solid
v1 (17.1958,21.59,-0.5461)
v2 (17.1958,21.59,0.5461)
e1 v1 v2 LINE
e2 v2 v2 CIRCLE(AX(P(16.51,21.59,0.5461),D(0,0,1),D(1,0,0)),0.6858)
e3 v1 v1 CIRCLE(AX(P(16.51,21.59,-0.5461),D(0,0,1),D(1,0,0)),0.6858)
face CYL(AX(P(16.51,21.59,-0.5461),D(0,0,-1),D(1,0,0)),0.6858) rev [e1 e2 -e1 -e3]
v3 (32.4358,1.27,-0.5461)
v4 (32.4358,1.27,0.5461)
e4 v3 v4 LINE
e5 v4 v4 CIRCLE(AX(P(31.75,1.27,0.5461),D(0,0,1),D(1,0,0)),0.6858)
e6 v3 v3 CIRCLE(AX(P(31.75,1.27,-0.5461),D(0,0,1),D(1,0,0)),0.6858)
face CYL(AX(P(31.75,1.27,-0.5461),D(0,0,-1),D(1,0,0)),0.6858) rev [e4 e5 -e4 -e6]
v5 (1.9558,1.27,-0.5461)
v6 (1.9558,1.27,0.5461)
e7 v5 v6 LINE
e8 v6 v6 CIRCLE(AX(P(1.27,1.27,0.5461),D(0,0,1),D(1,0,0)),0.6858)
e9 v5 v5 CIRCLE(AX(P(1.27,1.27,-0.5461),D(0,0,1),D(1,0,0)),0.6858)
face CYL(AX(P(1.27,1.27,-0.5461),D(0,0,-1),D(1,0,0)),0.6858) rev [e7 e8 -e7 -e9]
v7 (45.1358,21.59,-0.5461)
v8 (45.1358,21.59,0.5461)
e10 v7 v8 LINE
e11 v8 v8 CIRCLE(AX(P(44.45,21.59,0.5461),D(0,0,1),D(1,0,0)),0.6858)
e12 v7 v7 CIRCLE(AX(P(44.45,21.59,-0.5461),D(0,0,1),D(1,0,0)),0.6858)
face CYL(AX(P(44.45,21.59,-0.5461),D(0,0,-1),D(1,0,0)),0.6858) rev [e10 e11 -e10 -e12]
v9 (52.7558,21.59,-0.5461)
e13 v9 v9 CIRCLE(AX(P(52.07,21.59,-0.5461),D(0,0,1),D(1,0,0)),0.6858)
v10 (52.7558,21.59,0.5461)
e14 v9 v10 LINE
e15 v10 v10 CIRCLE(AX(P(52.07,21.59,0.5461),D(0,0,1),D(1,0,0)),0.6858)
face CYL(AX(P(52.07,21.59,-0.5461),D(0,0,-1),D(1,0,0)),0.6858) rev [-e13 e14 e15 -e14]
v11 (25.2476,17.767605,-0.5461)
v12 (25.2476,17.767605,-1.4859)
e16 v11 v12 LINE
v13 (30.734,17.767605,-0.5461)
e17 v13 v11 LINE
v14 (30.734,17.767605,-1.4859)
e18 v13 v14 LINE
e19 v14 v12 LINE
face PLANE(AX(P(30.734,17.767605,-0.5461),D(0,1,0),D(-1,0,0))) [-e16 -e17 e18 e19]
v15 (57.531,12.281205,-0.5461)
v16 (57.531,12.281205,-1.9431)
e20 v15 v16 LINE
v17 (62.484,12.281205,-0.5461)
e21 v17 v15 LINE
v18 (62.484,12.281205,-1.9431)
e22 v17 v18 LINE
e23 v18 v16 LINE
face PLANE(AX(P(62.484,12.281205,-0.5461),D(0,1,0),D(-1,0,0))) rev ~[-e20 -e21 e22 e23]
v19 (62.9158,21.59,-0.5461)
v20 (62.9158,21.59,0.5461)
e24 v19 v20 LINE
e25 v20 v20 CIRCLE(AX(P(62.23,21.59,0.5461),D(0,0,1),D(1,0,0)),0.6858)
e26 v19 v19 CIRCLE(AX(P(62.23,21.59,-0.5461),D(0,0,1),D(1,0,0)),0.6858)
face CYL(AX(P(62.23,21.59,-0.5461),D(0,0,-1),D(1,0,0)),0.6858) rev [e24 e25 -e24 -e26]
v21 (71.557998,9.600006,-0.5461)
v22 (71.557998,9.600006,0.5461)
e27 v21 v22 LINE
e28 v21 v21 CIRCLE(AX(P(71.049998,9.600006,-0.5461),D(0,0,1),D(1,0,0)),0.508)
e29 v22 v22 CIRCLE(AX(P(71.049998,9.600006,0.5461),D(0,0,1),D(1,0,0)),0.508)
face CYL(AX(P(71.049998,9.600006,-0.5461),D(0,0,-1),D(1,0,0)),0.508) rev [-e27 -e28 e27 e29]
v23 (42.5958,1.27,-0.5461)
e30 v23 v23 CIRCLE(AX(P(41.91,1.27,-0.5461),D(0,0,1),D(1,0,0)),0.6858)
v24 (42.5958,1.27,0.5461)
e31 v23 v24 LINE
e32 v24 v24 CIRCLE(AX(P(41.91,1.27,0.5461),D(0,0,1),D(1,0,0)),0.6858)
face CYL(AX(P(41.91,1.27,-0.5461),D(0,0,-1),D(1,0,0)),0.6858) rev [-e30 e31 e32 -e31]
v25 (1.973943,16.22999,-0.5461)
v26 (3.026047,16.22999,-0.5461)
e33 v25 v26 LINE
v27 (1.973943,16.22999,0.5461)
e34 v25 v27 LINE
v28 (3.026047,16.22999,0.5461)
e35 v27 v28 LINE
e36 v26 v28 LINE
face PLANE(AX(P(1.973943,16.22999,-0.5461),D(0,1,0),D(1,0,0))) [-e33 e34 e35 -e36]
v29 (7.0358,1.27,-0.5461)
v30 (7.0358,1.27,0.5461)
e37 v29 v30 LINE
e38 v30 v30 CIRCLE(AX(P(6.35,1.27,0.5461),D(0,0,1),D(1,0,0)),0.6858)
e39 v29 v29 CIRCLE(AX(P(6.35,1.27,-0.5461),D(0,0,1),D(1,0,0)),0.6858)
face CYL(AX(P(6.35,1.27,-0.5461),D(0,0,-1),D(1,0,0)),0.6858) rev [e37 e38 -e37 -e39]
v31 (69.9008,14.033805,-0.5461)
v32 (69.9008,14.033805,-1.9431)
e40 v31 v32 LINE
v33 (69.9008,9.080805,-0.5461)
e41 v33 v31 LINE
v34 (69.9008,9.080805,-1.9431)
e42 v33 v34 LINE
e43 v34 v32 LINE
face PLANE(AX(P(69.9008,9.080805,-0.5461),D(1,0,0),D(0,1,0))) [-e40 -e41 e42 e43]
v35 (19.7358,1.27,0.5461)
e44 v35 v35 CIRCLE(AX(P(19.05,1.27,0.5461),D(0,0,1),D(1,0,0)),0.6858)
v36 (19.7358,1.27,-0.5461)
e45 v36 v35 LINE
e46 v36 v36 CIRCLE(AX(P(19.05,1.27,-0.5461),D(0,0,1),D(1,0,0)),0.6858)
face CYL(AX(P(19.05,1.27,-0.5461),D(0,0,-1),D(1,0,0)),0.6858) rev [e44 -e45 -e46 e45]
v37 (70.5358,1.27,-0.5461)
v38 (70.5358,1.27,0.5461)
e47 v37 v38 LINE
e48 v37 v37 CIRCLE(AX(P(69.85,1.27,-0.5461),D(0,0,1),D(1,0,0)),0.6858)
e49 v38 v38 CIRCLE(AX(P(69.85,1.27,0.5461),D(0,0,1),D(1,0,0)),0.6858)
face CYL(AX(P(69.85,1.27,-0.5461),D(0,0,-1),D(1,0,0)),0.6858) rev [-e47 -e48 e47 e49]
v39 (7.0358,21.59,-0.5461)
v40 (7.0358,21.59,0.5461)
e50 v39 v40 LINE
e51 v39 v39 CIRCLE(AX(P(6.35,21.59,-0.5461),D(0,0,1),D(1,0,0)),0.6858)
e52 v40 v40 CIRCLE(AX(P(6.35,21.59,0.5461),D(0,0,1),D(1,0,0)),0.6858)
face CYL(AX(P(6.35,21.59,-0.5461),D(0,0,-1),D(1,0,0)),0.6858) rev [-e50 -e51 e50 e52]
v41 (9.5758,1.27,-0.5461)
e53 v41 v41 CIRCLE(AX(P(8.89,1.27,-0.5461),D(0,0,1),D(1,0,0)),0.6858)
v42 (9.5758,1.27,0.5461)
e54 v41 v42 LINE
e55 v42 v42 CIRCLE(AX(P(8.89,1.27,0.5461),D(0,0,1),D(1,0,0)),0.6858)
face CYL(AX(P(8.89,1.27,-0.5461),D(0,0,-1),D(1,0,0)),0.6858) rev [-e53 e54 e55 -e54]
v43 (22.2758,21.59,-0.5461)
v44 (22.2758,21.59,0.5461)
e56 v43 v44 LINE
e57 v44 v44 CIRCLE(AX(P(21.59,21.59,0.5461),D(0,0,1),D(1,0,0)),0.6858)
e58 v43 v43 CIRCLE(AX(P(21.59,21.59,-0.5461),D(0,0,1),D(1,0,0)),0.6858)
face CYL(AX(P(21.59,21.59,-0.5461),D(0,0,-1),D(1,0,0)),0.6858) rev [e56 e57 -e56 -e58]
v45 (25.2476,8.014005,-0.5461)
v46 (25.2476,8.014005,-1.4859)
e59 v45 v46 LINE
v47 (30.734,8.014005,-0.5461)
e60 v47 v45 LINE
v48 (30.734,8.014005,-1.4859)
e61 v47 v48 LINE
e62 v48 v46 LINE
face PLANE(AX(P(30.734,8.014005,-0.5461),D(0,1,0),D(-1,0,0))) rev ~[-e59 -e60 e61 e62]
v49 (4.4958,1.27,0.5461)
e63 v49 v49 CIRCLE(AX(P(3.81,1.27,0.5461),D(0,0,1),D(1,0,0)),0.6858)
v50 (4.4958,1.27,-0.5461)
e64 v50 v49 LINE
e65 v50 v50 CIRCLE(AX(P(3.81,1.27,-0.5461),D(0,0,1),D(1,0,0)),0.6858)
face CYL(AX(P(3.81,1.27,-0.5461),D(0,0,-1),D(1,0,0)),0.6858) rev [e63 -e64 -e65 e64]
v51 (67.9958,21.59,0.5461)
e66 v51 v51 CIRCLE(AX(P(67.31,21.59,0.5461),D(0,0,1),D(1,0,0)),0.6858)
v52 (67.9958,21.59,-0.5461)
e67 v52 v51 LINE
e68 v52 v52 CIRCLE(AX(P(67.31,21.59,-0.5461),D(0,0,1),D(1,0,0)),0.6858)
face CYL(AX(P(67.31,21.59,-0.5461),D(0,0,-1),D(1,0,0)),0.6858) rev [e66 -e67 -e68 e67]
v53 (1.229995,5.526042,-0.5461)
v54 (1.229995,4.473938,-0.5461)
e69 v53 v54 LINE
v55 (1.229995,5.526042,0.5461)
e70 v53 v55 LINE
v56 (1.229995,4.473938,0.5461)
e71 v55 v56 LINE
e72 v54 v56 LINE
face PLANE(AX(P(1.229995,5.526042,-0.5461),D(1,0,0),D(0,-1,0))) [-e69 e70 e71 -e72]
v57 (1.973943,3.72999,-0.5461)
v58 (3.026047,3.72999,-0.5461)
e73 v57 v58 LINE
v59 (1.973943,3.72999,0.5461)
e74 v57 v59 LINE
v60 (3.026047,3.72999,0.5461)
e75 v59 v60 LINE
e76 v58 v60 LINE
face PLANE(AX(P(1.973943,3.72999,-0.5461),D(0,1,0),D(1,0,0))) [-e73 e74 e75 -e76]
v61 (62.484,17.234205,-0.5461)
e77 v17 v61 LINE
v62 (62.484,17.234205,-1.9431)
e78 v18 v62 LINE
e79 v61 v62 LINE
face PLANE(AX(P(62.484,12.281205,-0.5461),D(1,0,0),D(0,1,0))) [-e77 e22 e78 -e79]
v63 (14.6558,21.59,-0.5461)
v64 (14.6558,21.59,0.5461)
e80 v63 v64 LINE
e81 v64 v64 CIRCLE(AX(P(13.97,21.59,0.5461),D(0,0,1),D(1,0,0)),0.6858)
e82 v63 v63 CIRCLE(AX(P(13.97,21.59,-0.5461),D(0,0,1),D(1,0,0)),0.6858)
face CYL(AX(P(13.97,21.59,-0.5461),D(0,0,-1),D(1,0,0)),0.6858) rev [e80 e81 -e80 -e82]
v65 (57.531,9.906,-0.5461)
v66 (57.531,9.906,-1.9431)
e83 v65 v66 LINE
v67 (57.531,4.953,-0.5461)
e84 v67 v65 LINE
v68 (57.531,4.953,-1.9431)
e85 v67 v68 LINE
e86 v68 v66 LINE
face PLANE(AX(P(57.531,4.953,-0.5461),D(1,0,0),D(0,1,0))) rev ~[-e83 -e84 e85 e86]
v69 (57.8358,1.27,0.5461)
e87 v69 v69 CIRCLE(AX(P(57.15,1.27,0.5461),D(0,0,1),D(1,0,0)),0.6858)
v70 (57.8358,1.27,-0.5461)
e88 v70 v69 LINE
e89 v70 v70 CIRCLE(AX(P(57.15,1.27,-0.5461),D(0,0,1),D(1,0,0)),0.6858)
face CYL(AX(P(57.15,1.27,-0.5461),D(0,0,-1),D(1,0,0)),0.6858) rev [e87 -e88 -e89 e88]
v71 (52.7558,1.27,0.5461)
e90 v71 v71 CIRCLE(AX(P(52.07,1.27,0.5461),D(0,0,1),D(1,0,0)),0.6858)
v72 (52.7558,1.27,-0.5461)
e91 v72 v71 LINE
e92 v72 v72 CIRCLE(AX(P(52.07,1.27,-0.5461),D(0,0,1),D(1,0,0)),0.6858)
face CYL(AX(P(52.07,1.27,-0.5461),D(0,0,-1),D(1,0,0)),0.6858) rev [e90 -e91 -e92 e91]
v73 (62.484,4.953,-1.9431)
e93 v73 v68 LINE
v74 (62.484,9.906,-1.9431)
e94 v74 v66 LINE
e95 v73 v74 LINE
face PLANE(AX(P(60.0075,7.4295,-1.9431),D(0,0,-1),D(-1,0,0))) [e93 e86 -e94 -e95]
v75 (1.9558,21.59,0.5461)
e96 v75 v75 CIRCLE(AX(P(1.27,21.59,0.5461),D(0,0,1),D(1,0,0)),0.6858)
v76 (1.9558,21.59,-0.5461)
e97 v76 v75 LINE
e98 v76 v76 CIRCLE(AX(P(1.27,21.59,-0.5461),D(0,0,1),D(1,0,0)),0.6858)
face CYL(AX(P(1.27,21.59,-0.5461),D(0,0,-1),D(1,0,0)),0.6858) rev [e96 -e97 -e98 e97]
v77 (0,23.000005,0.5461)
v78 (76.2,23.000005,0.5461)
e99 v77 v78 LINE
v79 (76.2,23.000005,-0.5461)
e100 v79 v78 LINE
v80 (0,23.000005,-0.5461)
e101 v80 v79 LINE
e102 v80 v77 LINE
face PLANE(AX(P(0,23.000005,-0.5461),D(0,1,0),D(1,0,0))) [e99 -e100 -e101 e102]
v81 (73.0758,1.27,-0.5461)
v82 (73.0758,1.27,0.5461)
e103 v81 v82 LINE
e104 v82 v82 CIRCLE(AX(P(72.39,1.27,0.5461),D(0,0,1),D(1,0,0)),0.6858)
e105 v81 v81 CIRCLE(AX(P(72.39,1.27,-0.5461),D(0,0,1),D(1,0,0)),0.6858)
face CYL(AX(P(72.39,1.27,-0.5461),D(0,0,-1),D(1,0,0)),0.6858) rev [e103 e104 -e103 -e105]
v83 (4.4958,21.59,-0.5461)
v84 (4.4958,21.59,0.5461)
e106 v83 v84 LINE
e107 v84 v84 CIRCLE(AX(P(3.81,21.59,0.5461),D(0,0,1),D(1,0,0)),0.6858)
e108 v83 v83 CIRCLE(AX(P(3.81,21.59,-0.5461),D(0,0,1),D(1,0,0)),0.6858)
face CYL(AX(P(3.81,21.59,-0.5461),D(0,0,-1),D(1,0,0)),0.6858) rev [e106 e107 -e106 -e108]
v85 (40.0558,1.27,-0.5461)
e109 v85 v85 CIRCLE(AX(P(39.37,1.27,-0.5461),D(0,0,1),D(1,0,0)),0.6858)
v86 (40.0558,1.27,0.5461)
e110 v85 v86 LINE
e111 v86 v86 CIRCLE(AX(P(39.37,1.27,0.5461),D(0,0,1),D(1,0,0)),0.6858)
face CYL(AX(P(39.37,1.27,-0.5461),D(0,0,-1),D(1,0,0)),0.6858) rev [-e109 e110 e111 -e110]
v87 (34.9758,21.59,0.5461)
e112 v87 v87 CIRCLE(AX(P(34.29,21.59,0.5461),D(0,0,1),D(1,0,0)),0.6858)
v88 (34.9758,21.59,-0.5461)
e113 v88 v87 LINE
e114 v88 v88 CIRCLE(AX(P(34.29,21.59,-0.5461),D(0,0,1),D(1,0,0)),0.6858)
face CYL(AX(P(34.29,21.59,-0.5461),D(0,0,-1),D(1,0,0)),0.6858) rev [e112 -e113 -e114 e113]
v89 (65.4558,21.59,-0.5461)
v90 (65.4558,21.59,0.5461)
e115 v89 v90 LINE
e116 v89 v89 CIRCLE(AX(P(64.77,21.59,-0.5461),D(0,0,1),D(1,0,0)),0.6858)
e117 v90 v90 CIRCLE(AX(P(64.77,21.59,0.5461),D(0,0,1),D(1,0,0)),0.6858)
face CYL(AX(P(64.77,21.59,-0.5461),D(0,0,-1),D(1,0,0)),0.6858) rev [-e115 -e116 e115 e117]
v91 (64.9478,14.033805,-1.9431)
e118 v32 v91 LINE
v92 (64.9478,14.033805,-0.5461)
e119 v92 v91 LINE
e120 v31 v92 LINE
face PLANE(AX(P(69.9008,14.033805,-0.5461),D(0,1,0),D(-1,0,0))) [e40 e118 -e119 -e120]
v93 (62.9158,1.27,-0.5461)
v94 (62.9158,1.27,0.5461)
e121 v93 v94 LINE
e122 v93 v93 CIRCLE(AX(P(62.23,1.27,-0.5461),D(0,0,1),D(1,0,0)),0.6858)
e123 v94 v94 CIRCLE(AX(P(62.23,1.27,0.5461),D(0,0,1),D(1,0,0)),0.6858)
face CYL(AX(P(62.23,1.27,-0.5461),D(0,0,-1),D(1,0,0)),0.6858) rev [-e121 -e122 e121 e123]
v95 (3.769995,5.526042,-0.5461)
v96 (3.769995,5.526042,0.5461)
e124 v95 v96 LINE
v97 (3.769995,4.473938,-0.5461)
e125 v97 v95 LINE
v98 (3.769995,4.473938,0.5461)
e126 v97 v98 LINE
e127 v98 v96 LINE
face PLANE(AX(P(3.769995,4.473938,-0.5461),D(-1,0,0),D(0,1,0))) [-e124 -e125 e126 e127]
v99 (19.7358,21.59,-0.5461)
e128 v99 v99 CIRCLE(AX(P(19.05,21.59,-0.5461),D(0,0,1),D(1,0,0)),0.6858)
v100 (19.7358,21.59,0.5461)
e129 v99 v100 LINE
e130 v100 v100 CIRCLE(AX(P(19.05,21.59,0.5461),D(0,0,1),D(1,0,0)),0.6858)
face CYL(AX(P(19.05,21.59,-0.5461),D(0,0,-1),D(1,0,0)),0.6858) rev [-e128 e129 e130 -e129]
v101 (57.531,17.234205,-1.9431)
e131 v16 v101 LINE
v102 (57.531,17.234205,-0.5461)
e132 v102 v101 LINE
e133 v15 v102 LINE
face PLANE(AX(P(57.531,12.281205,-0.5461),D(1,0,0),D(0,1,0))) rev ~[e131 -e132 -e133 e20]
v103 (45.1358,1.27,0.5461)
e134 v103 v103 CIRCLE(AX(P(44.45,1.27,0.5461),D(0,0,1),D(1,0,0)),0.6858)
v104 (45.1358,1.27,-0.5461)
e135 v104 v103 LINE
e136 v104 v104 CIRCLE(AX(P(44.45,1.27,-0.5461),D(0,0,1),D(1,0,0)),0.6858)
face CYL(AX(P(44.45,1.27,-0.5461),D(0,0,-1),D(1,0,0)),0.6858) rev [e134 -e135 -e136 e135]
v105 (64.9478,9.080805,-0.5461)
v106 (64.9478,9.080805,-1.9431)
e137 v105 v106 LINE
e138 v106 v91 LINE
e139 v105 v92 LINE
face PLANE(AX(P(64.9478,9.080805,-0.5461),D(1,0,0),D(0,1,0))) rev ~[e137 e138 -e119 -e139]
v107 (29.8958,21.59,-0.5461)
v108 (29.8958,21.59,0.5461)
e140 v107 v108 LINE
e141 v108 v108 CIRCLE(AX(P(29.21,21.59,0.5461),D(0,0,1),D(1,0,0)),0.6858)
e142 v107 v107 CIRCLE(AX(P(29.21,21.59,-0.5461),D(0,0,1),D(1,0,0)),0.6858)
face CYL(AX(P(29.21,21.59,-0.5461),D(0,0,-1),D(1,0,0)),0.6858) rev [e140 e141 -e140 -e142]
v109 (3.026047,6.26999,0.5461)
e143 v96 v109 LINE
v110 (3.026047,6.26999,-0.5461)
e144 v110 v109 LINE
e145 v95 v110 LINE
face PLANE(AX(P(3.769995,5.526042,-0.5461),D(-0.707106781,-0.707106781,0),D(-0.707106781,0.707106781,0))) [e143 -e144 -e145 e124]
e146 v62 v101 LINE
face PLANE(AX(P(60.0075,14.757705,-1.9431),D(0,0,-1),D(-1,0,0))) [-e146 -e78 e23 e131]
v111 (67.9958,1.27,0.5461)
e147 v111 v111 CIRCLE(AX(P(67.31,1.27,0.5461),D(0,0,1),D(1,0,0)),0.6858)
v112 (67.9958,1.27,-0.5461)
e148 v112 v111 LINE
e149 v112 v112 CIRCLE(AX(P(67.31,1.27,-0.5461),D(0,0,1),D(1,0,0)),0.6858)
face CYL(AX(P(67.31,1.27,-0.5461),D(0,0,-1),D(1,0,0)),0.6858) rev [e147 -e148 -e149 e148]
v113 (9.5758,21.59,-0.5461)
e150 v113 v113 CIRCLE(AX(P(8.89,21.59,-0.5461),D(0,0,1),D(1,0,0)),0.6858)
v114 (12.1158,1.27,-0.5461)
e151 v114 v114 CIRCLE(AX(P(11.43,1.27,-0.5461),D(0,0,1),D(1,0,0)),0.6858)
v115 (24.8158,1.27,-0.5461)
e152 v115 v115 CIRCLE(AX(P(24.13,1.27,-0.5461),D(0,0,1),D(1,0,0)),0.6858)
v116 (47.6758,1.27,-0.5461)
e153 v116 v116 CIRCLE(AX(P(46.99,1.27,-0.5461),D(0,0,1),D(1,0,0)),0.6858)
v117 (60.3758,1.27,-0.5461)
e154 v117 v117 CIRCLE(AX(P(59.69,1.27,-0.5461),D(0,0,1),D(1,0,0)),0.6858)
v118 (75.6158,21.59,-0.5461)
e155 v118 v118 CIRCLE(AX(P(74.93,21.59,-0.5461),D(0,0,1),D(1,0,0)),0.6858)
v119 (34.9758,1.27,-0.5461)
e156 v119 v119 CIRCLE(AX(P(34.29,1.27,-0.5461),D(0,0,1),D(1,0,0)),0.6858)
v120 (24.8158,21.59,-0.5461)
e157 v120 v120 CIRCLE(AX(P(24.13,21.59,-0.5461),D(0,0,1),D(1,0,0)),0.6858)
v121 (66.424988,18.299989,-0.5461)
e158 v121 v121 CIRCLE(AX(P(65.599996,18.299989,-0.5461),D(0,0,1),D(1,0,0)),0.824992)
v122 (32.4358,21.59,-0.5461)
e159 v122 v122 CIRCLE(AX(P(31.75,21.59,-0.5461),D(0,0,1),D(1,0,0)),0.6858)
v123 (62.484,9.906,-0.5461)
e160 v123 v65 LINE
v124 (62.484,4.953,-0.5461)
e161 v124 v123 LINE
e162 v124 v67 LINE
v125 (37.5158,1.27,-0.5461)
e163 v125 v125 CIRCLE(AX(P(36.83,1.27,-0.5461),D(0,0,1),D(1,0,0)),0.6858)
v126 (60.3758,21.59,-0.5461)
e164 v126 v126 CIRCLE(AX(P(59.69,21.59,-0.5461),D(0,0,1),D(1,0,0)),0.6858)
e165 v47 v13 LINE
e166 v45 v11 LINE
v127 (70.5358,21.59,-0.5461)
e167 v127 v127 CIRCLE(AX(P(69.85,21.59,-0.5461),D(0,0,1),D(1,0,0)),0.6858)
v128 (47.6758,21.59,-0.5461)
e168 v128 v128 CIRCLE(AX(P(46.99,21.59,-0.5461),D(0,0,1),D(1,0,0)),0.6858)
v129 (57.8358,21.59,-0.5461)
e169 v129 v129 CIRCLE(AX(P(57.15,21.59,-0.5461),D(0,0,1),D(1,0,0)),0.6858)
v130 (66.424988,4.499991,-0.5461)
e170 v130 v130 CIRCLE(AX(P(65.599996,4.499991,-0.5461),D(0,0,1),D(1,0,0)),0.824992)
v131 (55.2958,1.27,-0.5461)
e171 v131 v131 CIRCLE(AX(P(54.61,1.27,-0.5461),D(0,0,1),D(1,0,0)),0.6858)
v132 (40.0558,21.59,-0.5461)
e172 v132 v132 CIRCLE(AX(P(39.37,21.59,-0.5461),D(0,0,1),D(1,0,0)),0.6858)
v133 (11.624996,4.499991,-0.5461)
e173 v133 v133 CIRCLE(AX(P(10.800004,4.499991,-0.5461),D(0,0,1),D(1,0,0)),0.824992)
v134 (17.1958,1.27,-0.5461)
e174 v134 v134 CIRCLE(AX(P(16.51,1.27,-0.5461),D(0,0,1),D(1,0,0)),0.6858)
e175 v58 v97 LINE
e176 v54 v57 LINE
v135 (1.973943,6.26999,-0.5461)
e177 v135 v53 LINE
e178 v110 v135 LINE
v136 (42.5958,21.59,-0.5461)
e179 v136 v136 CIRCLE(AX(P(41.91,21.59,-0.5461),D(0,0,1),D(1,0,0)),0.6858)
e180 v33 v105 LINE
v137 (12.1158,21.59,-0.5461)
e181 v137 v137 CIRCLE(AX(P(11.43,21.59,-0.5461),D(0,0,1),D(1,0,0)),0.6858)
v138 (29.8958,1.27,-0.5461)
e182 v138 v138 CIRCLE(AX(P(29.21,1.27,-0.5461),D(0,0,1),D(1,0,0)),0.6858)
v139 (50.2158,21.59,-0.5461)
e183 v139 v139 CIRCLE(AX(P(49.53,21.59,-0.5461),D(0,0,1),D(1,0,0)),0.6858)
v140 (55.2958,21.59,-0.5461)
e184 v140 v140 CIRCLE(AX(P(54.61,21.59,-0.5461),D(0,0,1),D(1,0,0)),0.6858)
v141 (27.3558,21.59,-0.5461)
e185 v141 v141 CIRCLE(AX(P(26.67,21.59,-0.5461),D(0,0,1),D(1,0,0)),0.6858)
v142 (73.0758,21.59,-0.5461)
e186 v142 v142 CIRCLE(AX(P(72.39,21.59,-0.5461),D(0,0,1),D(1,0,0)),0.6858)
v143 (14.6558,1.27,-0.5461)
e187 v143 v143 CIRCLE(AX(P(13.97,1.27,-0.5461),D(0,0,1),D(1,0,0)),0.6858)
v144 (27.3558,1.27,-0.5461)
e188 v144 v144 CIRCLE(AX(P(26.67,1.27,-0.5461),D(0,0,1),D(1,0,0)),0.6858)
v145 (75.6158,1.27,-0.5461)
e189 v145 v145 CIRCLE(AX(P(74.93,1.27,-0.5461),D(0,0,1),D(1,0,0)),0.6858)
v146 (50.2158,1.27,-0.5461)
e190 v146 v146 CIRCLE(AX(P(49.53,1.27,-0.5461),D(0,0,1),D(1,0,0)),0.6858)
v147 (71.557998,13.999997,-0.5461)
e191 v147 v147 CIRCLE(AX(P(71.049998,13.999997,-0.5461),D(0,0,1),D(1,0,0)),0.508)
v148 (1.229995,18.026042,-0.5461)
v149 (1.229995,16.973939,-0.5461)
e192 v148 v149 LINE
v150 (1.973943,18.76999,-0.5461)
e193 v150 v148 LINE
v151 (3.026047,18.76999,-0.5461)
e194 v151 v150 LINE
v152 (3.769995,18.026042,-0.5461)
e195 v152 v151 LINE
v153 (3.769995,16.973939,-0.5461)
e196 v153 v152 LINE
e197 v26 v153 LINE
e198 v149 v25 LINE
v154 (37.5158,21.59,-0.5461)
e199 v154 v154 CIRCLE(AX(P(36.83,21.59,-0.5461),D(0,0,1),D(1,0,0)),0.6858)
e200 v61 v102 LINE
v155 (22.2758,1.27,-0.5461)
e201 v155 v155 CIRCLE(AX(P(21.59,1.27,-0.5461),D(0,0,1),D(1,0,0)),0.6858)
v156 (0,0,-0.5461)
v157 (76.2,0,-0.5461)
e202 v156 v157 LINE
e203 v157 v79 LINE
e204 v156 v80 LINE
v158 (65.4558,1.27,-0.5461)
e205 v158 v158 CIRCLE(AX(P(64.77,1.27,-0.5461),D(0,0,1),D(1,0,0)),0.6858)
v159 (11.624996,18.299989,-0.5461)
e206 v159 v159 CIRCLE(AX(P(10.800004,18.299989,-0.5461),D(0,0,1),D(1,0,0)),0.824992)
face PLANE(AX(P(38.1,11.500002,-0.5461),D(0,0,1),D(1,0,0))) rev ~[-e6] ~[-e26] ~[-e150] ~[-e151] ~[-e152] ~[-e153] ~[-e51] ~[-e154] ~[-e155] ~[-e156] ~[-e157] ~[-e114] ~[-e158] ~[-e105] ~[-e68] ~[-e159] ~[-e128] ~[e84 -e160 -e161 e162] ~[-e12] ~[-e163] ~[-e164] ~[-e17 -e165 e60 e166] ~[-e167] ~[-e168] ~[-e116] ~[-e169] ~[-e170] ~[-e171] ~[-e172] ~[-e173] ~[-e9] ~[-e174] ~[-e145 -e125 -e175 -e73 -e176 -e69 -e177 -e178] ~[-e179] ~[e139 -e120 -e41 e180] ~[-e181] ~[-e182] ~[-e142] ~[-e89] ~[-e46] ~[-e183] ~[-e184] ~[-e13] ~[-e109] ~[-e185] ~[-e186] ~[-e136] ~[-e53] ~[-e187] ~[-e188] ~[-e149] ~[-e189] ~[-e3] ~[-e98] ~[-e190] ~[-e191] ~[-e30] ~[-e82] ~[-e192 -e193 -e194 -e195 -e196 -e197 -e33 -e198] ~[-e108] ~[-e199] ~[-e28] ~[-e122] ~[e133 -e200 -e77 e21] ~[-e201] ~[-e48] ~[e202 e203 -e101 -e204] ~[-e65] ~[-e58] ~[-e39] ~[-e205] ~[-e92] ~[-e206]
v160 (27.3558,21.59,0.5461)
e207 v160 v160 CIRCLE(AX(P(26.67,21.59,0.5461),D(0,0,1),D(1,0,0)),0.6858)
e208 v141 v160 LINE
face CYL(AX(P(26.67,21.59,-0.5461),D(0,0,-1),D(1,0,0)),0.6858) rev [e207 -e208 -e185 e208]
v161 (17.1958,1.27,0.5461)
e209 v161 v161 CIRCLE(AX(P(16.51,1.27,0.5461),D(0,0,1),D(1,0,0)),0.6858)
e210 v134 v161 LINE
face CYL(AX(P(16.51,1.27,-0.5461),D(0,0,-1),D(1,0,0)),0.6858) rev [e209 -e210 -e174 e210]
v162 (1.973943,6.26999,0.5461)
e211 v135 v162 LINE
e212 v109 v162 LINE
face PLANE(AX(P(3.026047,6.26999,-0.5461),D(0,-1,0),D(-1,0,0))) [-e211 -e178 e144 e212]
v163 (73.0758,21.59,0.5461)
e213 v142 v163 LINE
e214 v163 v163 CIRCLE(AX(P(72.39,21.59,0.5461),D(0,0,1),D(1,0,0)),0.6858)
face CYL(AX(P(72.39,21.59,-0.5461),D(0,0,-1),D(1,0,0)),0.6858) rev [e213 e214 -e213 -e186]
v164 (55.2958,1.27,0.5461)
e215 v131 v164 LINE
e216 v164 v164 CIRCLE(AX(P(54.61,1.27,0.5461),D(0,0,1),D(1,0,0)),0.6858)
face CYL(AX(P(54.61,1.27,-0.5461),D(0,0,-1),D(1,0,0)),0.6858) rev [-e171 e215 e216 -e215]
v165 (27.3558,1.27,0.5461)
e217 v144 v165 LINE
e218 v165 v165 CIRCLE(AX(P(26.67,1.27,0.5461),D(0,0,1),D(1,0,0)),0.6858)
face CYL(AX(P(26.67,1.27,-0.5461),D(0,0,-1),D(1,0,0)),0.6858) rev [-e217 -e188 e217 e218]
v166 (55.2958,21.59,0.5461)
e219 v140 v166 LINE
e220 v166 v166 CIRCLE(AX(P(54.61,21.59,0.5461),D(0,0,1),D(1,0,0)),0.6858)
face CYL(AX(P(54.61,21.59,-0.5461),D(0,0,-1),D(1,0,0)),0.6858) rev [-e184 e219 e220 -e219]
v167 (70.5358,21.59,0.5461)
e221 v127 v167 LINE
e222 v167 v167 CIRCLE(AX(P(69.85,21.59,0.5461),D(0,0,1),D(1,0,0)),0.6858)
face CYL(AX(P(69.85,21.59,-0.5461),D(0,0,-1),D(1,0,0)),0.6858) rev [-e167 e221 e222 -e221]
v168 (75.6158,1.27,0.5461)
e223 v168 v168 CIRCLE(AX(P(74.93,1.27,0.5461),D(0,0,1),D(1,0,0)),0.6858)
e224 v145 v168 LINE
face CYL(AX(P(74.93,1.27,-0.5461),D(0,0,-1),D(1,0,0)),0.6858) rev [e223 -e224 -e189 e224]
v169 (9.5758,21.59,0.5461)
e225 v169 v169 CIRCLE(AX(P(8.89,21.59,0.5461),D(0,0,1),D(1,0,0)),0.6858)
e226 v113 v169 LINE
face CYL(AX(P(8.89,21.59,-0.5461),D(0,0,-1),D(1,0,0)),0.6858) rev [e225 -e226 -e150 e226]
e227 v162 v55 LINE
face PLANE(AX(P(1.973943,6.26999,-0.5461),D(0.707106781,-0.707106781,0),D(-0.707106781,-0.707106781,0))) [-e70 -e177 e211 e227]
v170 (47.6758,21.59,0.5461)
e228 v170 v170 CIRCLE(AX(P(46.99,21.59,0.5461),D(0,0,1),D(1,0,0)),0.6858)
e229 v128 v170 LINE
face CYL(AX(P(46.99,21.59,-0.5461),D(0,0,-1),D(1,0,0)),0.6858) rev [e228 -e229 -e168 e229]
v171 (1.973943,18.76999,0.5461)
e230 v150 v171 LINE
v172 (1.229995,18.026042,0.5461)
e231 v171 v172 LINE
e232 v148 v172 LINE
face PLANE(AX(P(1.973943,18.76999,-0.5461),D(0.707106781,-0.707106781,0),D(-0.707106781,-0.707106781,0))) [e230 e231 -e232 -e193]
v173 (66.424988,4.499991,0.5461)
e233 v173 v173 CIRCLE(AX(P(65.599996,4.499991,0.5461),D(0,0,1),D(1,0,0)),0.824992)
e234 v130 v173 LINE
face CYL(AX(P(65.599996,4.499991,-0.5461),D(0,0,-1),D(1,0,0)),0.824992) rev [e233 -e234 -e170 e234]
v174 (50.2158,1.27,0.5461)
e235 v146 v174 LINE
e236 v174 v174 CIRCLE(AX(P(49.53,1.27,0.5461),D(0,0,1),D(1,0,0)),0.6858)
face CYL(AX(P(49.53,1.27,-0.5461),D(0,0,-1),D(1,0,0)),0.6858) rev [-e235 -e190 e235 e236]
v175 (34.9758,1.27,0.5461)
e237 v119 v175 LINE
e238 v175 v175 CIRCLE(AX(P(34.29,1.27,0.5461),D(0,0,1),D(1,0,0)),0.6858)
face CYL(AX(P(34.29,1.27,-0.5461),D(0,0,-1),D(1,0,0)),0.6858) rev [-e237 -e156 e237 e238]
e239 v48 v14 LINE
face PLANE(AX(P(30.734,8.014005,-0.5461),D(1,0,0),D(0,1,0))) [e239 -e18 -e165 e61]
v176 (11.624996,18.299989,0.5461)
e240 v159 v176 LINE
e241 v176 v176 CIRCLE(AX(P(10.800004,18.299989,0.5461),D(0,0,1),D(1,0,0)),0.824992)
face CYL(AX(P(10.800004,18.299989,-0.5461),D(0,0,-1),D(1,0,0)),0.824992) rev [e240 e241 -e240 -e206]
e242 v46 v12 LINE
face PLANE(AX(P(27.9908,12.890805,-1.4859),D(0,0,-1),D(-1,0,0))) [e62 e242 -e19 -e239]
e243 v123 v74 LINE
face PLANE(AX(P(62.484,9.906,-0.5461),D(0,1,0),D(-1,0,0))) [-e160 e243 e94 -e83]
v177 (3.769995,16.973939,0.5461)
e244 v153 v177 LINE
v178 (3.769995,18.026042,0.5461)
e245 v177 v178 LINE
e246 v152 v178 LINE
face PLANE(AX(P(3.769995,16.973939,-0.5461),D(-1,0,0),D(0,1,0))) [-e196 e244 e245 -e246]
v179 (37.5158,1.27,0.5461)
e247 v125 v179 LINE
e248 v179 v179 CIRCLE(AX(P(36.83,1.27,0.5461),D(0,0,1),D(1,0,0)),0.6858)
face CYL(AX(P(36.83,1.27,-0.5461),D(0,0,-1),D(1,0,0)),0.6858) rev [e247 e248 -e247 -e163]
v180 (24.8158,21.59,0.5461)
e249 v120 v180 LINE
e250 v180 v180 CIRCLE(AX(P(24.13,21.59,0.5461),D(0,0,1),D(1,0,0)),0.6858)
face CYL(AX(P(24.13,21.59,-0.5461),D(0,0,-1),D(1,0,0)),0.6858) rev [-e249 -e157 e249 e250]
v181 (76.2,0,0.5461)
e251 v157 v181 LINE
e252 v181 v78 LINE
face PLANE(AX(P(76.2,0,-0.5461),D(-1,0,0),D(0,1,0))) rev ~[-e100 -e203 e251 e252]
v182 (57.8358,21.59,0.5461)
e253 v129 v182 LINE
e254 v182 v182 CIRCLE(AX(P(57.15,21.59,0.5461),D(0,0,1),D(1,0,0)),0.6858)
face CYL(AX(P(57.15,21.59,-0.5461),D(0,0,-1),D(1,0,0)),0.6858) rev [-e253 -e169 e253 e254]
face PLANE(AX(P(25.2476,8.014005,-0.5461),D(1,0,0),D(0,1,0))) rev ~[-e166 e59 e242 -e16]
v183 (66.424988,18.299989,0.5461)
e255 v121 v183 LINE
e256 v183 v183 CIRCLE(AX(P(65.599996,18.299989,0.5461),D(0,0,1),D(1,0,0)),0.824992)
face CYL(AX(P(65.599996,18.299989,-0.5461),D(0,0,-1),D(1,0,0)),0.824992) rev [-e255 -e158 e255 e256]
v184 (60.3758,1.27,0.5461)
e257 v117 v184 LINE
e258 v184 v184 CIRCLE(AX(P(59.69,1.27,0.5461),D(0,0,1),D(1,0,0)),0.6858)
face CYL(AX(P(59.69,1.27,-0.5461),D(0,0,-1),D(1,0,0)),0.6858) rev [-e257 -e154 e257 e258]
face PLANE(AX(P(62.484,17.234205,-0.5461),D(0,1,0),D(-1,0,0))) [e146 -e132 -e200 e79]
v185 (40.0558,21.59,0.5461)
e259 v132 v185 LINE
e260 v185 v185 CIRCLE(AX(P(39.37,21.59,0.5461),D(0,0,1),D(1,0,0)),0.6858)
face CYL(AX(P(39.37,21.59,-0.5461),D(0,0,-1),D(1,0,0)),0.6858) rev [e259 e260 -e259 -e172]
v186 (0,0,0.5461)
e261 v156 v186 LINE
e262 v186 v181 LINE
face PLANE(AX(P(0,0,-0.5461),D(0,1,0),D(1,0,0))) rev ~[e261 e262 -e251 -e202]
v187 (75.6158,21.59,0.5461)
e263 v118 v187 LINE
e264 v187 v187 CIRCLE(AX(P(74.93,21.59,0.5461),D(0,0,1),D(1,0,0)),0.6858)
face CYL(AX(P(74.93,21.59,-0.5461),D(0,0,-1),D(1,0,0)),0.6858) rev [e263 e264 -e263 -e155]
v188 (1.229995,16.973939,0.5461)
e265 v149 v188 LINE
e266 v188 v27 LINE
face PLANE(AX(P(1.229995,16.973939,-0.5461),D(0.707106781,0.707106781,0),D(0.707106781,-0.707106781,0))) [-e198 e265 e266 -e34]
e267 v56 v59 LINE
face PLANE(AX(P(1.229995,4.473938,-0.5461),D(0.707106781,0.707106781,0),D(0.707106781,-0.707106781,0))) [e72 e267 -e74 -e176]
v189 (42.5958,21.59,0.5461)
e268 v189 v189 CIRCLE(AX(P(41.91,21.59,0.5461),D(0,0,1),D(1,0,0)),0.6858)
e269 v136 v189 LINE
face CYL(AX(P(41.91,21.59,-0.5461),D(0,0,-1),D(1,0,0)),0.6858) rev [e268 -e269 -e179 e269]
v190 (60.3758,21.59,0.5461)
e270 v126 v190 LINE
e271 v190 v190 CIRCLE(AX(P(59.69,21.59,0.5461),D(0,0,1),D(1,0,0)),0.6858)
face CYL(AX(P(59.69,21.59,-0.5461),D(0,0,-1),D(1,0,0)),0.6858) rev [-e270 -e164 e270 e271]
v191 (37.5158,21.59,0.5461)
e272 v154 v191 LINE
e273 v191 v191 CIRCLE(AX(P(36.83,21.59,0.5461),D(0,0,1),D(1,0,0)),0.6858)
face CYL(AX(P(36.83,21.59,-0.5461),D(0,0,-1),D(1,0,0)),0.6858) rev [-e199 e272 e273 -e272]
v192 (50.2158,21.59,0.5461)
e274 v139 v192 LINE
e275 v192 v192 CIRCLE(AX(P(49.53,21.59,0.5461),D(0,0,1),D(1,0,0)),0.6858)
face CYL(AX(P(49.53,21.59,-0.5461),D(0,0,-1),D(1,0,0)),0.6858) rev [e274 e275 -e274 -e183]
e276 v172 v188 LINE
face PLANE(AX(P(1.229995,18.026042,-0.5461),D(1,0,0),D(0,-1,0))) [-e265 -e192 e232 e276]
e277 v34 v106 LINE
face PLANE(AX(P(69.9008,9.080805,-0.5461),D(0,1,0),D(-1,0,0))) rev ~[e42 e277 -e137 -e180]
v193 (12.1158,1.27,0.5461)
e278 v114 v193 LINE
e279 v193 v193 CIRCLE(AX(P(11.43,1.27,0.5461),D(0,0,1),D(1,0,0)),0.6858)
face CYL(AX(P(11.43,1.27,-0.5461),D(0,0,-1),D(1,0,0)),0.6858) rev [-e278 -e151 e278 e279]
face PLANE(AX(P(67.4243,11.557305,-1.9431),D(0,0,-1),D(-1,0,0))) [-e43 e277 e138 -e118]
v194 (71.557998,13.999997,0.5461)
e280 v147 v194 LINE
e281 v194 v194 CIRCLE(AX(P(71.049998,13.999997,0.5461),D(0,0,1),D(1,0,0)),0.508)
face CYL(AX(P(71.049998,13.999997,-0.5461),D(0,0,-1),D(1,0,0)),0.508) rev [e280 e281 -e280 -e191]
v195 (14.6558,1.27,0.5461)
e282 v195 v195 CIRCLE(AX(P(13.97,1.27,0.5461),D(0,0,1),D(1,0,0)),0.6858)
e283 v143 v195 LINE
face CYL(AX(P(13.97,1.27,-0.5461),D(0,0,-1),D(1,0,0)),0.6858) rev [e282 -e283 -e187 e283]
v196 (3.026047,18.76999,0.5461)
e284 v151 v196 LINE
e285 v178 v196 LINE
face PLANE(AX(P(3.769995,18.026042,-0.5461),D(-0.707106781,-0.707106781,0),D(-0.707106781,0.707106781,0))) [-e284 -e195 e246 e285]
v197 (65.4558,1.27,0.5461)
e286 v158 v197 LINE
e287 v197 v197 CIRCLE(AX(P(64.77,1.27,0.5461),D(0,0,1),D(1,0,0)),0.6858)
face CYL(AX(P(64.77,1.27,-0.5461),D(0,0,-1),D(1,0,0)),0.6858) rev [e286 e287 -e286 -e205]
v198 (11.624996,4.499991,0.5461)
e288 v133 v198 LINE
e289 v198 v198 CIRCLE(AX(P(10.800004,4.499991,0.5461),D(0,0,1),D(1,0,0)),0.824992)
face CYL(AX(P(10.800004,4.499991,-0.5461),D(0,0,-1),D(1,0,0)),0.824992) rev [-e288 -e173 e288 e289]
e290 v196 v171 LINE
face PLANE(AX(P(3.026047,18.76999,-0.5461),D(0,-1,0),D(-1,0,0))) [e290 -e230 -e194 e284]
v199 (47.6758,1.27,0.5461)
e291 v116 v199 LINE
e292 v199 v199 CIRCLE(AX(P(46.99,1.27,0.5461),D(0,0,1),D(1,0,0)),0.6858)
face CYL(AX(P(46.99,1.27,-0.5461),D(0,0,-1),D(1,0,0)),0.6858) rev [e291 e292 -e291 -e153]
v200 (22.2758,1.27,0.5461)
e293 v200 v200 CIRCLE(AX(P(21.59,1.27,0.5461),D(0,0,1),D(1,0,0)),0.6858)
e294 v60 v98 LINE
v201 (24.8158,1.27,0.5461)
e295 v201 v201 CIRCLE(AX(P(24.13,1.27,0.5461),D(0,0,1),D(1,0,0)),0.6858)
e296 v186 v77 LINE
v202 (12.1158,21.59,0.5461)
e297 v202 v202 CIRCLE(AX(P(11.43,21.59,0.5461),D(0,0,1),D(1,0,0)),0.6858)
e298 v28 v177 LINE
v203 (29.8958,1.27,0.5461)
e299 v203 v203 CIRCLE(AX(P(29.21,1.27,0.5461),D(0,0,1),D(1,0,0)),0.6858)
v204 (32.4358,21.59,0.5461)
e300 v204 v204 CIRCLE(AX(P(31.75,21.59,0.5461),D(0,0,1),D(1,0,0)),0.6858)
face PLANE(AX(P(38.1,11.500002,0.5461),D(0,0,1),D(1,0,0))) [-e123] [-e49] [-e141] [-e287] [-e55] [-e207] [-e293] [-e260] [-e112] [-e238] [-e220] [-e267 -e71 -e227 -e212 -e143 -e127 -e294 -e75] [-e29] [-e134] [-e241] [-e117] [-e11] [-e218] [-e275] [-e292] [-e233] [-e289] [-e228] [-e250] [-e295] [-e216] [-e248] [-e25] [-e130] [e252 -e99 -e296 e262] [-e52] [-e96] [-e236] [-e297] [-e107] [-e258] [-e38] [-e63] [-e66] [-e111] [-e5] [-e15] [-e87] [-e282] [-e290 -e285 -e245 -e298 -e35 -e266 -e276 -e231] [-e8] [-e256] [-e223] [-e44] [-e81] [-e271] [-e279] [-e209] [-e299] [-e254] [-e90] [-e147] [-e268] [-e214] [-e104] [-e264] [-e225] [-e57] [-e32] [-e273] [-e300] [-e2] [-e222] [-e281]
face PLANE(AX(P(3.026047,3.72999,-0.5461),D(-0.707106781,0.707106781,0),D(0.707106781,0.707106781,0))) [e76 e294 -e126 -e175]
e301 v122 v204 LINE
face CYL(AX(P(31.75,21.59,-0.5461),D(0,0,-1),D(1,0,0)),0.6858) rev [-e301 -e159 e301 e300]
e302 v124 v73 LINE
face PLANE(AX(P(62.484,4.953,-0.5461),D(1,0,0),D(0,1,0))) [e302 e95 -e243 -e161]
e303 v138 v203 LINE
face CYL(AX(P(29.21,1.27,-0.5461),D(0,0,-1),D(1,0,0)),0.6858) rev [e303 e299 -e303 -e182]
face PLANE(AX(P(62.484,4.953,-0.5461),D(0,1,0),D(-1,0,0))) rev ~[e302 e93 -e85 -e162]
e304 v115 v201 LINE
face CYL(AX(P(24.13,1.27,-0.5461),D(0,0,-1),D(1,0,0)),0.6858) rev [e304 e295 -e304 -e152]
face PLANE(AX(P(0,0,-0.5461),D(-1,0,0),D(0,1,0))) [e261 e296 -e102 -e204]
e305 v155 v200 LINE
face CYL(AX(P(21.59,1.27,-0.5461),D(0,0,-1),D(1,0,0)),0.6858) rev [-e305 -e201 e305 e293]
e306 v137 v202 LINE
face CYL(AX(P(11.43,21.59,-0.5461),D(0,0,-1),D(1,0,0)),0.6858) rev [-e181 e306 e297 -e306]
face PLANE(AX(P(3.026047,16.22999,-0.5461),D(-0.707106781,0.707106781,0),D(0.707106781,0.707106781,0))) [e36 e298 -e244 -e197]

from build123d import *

# Parameters (mm, degrees)
MAIN_BOARD_DEPTH      = 0.5461
MAIN_BOARD_DEPTH_BACK = 0.5461
SKETCH1_W             = 76.2
SKETCH1_H             = 23.0000048
SKETCH1_R             = 0.6858
SKETCH1_R_2           = 0.824992
SKETCH1_R_3           = 0.508
SKETCH2_W             = 4.953
SKETCH2_H             = 4.953
BUTTONS_ON_BACK_DEPTH = 1.397
SKETCH3_W             = 5.4864
SKETCH3_H             = 9.7536
CHIP_ON_BACK_DEPTH    = 0.9398


with BuildPart() as part:
    # Sketch1 → Main board (new, two sides: drawn at the far end of the back side and taken through both)
    with BuildSketch(Plane.XY.offset(-MAIN_BOARD_DEPTH_BACK)):
        with Locations((38.1, 11.5000024)):
            Rectangle(SKETCH1_W, SKETCH1_H)
        with Locations((1.27, 21.59)):
            Circle(SKETCH1_R, mode=Mode.SUBTRACT)
        with Locations((3.81, 21.59)):
            Circle(SKETCH1_R, mode=Mode.SUBTRACT)
        with Locations((6.35, 21.59)):
            Circle(SKETCH1_R, mode=Mode.SUBTRACT)
        with Locations((8.89, 21.59)):
            Circle(SKETCH1_R, mode=Mode.SUBTRACT)
        with Locations((11.43, 21.59)):
            Circle(SKETCH1_R, mode=Mode.SUBTRACT)
        with Locations((13.97, 21.59)):
            Circle(SKETCH1_R, mode=Mode.SUBTRACT)
        with Locations((16.51, 21.59)):
            Circle(SKETCH1_R, mode=Mode.SUBTRACT)
        with Locations((19.05, 21.59)):
            Circle(SKETCH1_R, mode=Mode.SUBTRACT)
        with Locations((21.59, 21.59)):
            Circle(SKETCH1_R, mode=Mode.SUBTRACT)
        with Locations((24.13, 21.59)):
            Circle(SKETCH1_R, mode=Mode.SUBTRACT)
        with Locations((26.67, 21.59)):
            Circle(SKETCH1_R, mode=Mode.SUBTRACT)
        with Locations((29.21, 21.59)):
            Circle(SKETCH1_R, mode=Mode.SUBTRACT)
        with Locations((31.75, 21.59)):
            Circle(SKETCH1_R, mode=Mode.SUBTRACT)
        with Locations((34.29, 21.59)):
            Circle(SKETCH1_R, mode=Mode.SUBTRACT)
        with Locations((36.83, 21.59)):
            Circle(SKETCH1_R, mode=Mode.SUBTRACT)
        with Locations((39.37, 21.59)):
            Circle(SKETCH1_R, mode=Mode.SUBTRACT)
        with Locations((41.91, 21.59)):
            Circle(SKETCH1_R, mode=Mode.SUBTRACT)
        with Locations((44.45, 21.59)):
            Circle(SKETCH1_R, mode=Mode.SUBTRACT)
        with Locations((46.99, 21.59)):
            Circle(SKETCH1_R, mode=Mode.SUBTRACT)
        with Locations((49.53, 21.59)):
            Circle(SKETCH1_R, mode=Mode.SUBTRACT)
        with Locations((52.07, 21.59)):
            Circle(SKETCH1_R, mode=Mode.SUBTRACT)
        with Locations((54.61, 21.59)):
            Circle(SKETCH1_R, mode=Mode.SUBTRACT)
        with Locations((57.15, 21.59)):
            Circle(SKETCH1_R, mode=Mode.SUBTRACT)
        with Locations((59.69, 21.59)):
            Circle(SKETCH1_R, mode=Mode.SUBTRACT)
        with Locations((62.23, 21.59)):
            Circle(SKETCH1_R, mode=Mode.SUBTRACT)
        with Locations((64.77, 21.59)):
            Circle(SKETCH1_R, mode=Mode.SUBTRACT)
        with Locations((67.31, 21.59)):
            Circle(SKETCH1_R, mode=Mode.SUBTRACT)
        with Locations((69.85, 21.59)):
            Circle(SKETCH1_R, mode=Mode.SUBTRACT)
        with Locations((72.39, 21.59)):
            Circle(SKETCH1_R, mode=Mode.SUBTRACT)
        with Locations((74.93, 21.59)):
            Circle(SKETCH1_R, mode=Mode.SUBTRACT)
        with Locations((65.5999958, 18.2999888)):
            Circle(SKETCH1_R_2, mode=Mode.SUBTRACT)
        with Locations((65.5999958, 4.499991)):
            Circle(SKETCH1_R_2, mode=Mode.SUBTRACT)
        with Locations((10.8000038, 18.2999888)):
            Circle(SKETCH1_R_2, mode=Mode.SUBTRACT)
        with Locations((10.8000038, 4.499991)):
            Circle(SKETCH1_R_2, mode=Mode.SUBTRACT)
        with Locations((71.0499976, 13.9999974)):
            Circle(SKETCH1_R_3, mode=Mode.SUBTRACT)
        with Locations((71.0499976, 9.6000062)):
            Circle(SKETCH1_R_3, mode=Mode.SUBTRACT)
        with Locations((1.27, 1.27)):
            Circle(SKETCH1_R, mode=Mode.SUBTRACT)
        with Locations((3.81, 1.27)):
            Circle(SKETCH1_R, mode=Mode.SUBTRACT)
        with Locations((6.35, 1.27)):
            Circle(SKETCH1_R, mode=Mode.SUBTRACT)
        with Locations((8.89, 1.27)):
            Circle(SKETCH1_R, mode=Mode.SUBTRACT)
        with Locations((11.43, 1.27)):
            Circle(SKETCH1_R, mode=Mode.SUBTRACT)
        with Locations((13.97, 1.27)):
            Circle(SKETCH1_R, mode=Mode.SUBTRACT)
        with Locations((16.51, 1.27)):
            Circle(SKETCH1_R, mode=Mode.SUBTRACT)
        with Locations((19.05, 1.27)):
            Circle(SKETCH1_R, mode=Mode.SUBTRACT)
        with Locations((21.59, 1.27)):
            Circle(SKETCH1_R, mode=Mode.SUBTRACT)
        with Locations((24.13, 1.27)):
            Circle(SKETCH1_R, mode=Mode.SUBTRACT)
        with Locations((26.67, 1.27)):
            Circle(SKETCH1_R, mode=Mode.SUBTRACT)
        with Locations((29.21, 1.27)):
            Circle(SKETCH1_R, mode=Mode.SUBTRACT)
        with Locations((31.75, 1.27)):
            Circle(SKETCH1_R, mode=Mode.SUBTRACT)
        with Locations((34.29, 1.27)):
            Circle(SKETCH1_R, mode=Mode.SUBTRACT)
        with Locations((36.83, 1.27)):
            Circle(SKETCH1_R, mode=Mode.SUBTRACT)
        with Locations((39.37, 1.27)):
            Circle(SKETCH1_R, mode=Mode.SUBTRACT)
        with Locations((41.91, 1.27)):
            Circle(SKETCH1_R, mode=Mode.SUBTRACT)
        with Locations((44.45, 1.27)):
            Circle(SKETCH1_R, mode=Mode.SUBTRACT)
        with Locations((46.99, 1.27)):
            Circle(SKETCH1_R, mode=Mode.SUBTRACT)
        with Locations((49.53, 1.27)):
            Circle(SKETCH1_R, mode=Mode.SUBTRACT)
        with Locations((52.07, 1.27)):
            Circle(SKETCH1_R, mode=Mode.SUBTRACT)
        with Locations((54.61, 1.27)):
            Circle(SKETCH1_R, mode=Mode.SUBTRACT)
        with Locations((59.69, 1.27)):
            Circle(SKETCH1_R, mode=Mode.SUBTRACT)
        with Locations((57.15, 1.27)):
            Circle(SKETCH1_R, mode=Mode.SUBTRACT)
        with Locations((62.23, 1.27)):
            Circle(SKETCH1_R, mode=Mode.SUBTRACT)
        with Locations((64.77, 1.27)):
            Circle(SKETCH1_R, mode=Mode.SUBTRACT)
        with Locations((69.85, 1.27)):
            Circle(SKETCH1_R, mode=Mode.SUBTRACT)
        with Locations((67.31, 1.27)):
            Circle(SKETCH1_R, mode=Mode.SUBTRACT)
        with Locations((72.39, 1.27)):
            Circle(SKETCH1_R, mode=Mode.SUBTRACT)
        with Locations((74.93, 1.27)):
            Circle(SKETCH1_R, mode=Mode.SUBTRACT)
        Polygon((3.769995, 16.97393862), (3.769995, 18.02604218), (3.02604678, 18.7699904), (1.97394322, 18.7699904), (1.229995, 18.02604218), (1.229995, 16.97393862), (1.97394322, 16.2299904), (3.02604678, 16.2299904), align=None, mode=Mode.SUBTRACT)
        Polygon((3.769995, 4.47393822), (3.769995, 5.52604178), (3.02604678, 6.26999), (1.97394322, 6.26999), (1.229995, 5.52604178), (1.229995, 4.47393822), (1.97394322, 3.72999), (3.02604678, 3.72999), align=None, mode=Mode.SUBTRACT)
    extrude(amount=MAIN_BOARD_DEPTH + MAIN_BOARD_DEPTH_BACK)

    # Sketch2 → Buttons on back (add)
    with BuildSketch(Plane(origin=(0, 0, -0.5461), x_dir=(-1, 0, 0), z_dir=(0, 0, -1))):
        with Locations((-67.4243, 11.5573048)):
            Rectangle(SKETCH2_W, SKETCH2_H)
        with Locations((-60.0075, 14.7577048)):
            Rectangle(SKETCH2_W, SKETCH2_H)
        with Locations((-60.0075, 7.4295)):
            Rectangle(SKETCH2_W, SKETCH2_H)
    extrude(amount=BUTTONS_ON_BACK_DEPTH)

    # Sketch3 → Chip on back (add)
    with BuildSketch(Plane(origin=(0, 0, -0.5461), x_dir=(-1, 0, 0), z_dir=(0, 0, -1))):
        with Locations((-27.9908, 12.8908048)):
            Rectangle(SKETCH3_W, SKETCH3_H)
    extrude(amount=CHIP_ON_BACK_DEPTH)


solid = part.part
